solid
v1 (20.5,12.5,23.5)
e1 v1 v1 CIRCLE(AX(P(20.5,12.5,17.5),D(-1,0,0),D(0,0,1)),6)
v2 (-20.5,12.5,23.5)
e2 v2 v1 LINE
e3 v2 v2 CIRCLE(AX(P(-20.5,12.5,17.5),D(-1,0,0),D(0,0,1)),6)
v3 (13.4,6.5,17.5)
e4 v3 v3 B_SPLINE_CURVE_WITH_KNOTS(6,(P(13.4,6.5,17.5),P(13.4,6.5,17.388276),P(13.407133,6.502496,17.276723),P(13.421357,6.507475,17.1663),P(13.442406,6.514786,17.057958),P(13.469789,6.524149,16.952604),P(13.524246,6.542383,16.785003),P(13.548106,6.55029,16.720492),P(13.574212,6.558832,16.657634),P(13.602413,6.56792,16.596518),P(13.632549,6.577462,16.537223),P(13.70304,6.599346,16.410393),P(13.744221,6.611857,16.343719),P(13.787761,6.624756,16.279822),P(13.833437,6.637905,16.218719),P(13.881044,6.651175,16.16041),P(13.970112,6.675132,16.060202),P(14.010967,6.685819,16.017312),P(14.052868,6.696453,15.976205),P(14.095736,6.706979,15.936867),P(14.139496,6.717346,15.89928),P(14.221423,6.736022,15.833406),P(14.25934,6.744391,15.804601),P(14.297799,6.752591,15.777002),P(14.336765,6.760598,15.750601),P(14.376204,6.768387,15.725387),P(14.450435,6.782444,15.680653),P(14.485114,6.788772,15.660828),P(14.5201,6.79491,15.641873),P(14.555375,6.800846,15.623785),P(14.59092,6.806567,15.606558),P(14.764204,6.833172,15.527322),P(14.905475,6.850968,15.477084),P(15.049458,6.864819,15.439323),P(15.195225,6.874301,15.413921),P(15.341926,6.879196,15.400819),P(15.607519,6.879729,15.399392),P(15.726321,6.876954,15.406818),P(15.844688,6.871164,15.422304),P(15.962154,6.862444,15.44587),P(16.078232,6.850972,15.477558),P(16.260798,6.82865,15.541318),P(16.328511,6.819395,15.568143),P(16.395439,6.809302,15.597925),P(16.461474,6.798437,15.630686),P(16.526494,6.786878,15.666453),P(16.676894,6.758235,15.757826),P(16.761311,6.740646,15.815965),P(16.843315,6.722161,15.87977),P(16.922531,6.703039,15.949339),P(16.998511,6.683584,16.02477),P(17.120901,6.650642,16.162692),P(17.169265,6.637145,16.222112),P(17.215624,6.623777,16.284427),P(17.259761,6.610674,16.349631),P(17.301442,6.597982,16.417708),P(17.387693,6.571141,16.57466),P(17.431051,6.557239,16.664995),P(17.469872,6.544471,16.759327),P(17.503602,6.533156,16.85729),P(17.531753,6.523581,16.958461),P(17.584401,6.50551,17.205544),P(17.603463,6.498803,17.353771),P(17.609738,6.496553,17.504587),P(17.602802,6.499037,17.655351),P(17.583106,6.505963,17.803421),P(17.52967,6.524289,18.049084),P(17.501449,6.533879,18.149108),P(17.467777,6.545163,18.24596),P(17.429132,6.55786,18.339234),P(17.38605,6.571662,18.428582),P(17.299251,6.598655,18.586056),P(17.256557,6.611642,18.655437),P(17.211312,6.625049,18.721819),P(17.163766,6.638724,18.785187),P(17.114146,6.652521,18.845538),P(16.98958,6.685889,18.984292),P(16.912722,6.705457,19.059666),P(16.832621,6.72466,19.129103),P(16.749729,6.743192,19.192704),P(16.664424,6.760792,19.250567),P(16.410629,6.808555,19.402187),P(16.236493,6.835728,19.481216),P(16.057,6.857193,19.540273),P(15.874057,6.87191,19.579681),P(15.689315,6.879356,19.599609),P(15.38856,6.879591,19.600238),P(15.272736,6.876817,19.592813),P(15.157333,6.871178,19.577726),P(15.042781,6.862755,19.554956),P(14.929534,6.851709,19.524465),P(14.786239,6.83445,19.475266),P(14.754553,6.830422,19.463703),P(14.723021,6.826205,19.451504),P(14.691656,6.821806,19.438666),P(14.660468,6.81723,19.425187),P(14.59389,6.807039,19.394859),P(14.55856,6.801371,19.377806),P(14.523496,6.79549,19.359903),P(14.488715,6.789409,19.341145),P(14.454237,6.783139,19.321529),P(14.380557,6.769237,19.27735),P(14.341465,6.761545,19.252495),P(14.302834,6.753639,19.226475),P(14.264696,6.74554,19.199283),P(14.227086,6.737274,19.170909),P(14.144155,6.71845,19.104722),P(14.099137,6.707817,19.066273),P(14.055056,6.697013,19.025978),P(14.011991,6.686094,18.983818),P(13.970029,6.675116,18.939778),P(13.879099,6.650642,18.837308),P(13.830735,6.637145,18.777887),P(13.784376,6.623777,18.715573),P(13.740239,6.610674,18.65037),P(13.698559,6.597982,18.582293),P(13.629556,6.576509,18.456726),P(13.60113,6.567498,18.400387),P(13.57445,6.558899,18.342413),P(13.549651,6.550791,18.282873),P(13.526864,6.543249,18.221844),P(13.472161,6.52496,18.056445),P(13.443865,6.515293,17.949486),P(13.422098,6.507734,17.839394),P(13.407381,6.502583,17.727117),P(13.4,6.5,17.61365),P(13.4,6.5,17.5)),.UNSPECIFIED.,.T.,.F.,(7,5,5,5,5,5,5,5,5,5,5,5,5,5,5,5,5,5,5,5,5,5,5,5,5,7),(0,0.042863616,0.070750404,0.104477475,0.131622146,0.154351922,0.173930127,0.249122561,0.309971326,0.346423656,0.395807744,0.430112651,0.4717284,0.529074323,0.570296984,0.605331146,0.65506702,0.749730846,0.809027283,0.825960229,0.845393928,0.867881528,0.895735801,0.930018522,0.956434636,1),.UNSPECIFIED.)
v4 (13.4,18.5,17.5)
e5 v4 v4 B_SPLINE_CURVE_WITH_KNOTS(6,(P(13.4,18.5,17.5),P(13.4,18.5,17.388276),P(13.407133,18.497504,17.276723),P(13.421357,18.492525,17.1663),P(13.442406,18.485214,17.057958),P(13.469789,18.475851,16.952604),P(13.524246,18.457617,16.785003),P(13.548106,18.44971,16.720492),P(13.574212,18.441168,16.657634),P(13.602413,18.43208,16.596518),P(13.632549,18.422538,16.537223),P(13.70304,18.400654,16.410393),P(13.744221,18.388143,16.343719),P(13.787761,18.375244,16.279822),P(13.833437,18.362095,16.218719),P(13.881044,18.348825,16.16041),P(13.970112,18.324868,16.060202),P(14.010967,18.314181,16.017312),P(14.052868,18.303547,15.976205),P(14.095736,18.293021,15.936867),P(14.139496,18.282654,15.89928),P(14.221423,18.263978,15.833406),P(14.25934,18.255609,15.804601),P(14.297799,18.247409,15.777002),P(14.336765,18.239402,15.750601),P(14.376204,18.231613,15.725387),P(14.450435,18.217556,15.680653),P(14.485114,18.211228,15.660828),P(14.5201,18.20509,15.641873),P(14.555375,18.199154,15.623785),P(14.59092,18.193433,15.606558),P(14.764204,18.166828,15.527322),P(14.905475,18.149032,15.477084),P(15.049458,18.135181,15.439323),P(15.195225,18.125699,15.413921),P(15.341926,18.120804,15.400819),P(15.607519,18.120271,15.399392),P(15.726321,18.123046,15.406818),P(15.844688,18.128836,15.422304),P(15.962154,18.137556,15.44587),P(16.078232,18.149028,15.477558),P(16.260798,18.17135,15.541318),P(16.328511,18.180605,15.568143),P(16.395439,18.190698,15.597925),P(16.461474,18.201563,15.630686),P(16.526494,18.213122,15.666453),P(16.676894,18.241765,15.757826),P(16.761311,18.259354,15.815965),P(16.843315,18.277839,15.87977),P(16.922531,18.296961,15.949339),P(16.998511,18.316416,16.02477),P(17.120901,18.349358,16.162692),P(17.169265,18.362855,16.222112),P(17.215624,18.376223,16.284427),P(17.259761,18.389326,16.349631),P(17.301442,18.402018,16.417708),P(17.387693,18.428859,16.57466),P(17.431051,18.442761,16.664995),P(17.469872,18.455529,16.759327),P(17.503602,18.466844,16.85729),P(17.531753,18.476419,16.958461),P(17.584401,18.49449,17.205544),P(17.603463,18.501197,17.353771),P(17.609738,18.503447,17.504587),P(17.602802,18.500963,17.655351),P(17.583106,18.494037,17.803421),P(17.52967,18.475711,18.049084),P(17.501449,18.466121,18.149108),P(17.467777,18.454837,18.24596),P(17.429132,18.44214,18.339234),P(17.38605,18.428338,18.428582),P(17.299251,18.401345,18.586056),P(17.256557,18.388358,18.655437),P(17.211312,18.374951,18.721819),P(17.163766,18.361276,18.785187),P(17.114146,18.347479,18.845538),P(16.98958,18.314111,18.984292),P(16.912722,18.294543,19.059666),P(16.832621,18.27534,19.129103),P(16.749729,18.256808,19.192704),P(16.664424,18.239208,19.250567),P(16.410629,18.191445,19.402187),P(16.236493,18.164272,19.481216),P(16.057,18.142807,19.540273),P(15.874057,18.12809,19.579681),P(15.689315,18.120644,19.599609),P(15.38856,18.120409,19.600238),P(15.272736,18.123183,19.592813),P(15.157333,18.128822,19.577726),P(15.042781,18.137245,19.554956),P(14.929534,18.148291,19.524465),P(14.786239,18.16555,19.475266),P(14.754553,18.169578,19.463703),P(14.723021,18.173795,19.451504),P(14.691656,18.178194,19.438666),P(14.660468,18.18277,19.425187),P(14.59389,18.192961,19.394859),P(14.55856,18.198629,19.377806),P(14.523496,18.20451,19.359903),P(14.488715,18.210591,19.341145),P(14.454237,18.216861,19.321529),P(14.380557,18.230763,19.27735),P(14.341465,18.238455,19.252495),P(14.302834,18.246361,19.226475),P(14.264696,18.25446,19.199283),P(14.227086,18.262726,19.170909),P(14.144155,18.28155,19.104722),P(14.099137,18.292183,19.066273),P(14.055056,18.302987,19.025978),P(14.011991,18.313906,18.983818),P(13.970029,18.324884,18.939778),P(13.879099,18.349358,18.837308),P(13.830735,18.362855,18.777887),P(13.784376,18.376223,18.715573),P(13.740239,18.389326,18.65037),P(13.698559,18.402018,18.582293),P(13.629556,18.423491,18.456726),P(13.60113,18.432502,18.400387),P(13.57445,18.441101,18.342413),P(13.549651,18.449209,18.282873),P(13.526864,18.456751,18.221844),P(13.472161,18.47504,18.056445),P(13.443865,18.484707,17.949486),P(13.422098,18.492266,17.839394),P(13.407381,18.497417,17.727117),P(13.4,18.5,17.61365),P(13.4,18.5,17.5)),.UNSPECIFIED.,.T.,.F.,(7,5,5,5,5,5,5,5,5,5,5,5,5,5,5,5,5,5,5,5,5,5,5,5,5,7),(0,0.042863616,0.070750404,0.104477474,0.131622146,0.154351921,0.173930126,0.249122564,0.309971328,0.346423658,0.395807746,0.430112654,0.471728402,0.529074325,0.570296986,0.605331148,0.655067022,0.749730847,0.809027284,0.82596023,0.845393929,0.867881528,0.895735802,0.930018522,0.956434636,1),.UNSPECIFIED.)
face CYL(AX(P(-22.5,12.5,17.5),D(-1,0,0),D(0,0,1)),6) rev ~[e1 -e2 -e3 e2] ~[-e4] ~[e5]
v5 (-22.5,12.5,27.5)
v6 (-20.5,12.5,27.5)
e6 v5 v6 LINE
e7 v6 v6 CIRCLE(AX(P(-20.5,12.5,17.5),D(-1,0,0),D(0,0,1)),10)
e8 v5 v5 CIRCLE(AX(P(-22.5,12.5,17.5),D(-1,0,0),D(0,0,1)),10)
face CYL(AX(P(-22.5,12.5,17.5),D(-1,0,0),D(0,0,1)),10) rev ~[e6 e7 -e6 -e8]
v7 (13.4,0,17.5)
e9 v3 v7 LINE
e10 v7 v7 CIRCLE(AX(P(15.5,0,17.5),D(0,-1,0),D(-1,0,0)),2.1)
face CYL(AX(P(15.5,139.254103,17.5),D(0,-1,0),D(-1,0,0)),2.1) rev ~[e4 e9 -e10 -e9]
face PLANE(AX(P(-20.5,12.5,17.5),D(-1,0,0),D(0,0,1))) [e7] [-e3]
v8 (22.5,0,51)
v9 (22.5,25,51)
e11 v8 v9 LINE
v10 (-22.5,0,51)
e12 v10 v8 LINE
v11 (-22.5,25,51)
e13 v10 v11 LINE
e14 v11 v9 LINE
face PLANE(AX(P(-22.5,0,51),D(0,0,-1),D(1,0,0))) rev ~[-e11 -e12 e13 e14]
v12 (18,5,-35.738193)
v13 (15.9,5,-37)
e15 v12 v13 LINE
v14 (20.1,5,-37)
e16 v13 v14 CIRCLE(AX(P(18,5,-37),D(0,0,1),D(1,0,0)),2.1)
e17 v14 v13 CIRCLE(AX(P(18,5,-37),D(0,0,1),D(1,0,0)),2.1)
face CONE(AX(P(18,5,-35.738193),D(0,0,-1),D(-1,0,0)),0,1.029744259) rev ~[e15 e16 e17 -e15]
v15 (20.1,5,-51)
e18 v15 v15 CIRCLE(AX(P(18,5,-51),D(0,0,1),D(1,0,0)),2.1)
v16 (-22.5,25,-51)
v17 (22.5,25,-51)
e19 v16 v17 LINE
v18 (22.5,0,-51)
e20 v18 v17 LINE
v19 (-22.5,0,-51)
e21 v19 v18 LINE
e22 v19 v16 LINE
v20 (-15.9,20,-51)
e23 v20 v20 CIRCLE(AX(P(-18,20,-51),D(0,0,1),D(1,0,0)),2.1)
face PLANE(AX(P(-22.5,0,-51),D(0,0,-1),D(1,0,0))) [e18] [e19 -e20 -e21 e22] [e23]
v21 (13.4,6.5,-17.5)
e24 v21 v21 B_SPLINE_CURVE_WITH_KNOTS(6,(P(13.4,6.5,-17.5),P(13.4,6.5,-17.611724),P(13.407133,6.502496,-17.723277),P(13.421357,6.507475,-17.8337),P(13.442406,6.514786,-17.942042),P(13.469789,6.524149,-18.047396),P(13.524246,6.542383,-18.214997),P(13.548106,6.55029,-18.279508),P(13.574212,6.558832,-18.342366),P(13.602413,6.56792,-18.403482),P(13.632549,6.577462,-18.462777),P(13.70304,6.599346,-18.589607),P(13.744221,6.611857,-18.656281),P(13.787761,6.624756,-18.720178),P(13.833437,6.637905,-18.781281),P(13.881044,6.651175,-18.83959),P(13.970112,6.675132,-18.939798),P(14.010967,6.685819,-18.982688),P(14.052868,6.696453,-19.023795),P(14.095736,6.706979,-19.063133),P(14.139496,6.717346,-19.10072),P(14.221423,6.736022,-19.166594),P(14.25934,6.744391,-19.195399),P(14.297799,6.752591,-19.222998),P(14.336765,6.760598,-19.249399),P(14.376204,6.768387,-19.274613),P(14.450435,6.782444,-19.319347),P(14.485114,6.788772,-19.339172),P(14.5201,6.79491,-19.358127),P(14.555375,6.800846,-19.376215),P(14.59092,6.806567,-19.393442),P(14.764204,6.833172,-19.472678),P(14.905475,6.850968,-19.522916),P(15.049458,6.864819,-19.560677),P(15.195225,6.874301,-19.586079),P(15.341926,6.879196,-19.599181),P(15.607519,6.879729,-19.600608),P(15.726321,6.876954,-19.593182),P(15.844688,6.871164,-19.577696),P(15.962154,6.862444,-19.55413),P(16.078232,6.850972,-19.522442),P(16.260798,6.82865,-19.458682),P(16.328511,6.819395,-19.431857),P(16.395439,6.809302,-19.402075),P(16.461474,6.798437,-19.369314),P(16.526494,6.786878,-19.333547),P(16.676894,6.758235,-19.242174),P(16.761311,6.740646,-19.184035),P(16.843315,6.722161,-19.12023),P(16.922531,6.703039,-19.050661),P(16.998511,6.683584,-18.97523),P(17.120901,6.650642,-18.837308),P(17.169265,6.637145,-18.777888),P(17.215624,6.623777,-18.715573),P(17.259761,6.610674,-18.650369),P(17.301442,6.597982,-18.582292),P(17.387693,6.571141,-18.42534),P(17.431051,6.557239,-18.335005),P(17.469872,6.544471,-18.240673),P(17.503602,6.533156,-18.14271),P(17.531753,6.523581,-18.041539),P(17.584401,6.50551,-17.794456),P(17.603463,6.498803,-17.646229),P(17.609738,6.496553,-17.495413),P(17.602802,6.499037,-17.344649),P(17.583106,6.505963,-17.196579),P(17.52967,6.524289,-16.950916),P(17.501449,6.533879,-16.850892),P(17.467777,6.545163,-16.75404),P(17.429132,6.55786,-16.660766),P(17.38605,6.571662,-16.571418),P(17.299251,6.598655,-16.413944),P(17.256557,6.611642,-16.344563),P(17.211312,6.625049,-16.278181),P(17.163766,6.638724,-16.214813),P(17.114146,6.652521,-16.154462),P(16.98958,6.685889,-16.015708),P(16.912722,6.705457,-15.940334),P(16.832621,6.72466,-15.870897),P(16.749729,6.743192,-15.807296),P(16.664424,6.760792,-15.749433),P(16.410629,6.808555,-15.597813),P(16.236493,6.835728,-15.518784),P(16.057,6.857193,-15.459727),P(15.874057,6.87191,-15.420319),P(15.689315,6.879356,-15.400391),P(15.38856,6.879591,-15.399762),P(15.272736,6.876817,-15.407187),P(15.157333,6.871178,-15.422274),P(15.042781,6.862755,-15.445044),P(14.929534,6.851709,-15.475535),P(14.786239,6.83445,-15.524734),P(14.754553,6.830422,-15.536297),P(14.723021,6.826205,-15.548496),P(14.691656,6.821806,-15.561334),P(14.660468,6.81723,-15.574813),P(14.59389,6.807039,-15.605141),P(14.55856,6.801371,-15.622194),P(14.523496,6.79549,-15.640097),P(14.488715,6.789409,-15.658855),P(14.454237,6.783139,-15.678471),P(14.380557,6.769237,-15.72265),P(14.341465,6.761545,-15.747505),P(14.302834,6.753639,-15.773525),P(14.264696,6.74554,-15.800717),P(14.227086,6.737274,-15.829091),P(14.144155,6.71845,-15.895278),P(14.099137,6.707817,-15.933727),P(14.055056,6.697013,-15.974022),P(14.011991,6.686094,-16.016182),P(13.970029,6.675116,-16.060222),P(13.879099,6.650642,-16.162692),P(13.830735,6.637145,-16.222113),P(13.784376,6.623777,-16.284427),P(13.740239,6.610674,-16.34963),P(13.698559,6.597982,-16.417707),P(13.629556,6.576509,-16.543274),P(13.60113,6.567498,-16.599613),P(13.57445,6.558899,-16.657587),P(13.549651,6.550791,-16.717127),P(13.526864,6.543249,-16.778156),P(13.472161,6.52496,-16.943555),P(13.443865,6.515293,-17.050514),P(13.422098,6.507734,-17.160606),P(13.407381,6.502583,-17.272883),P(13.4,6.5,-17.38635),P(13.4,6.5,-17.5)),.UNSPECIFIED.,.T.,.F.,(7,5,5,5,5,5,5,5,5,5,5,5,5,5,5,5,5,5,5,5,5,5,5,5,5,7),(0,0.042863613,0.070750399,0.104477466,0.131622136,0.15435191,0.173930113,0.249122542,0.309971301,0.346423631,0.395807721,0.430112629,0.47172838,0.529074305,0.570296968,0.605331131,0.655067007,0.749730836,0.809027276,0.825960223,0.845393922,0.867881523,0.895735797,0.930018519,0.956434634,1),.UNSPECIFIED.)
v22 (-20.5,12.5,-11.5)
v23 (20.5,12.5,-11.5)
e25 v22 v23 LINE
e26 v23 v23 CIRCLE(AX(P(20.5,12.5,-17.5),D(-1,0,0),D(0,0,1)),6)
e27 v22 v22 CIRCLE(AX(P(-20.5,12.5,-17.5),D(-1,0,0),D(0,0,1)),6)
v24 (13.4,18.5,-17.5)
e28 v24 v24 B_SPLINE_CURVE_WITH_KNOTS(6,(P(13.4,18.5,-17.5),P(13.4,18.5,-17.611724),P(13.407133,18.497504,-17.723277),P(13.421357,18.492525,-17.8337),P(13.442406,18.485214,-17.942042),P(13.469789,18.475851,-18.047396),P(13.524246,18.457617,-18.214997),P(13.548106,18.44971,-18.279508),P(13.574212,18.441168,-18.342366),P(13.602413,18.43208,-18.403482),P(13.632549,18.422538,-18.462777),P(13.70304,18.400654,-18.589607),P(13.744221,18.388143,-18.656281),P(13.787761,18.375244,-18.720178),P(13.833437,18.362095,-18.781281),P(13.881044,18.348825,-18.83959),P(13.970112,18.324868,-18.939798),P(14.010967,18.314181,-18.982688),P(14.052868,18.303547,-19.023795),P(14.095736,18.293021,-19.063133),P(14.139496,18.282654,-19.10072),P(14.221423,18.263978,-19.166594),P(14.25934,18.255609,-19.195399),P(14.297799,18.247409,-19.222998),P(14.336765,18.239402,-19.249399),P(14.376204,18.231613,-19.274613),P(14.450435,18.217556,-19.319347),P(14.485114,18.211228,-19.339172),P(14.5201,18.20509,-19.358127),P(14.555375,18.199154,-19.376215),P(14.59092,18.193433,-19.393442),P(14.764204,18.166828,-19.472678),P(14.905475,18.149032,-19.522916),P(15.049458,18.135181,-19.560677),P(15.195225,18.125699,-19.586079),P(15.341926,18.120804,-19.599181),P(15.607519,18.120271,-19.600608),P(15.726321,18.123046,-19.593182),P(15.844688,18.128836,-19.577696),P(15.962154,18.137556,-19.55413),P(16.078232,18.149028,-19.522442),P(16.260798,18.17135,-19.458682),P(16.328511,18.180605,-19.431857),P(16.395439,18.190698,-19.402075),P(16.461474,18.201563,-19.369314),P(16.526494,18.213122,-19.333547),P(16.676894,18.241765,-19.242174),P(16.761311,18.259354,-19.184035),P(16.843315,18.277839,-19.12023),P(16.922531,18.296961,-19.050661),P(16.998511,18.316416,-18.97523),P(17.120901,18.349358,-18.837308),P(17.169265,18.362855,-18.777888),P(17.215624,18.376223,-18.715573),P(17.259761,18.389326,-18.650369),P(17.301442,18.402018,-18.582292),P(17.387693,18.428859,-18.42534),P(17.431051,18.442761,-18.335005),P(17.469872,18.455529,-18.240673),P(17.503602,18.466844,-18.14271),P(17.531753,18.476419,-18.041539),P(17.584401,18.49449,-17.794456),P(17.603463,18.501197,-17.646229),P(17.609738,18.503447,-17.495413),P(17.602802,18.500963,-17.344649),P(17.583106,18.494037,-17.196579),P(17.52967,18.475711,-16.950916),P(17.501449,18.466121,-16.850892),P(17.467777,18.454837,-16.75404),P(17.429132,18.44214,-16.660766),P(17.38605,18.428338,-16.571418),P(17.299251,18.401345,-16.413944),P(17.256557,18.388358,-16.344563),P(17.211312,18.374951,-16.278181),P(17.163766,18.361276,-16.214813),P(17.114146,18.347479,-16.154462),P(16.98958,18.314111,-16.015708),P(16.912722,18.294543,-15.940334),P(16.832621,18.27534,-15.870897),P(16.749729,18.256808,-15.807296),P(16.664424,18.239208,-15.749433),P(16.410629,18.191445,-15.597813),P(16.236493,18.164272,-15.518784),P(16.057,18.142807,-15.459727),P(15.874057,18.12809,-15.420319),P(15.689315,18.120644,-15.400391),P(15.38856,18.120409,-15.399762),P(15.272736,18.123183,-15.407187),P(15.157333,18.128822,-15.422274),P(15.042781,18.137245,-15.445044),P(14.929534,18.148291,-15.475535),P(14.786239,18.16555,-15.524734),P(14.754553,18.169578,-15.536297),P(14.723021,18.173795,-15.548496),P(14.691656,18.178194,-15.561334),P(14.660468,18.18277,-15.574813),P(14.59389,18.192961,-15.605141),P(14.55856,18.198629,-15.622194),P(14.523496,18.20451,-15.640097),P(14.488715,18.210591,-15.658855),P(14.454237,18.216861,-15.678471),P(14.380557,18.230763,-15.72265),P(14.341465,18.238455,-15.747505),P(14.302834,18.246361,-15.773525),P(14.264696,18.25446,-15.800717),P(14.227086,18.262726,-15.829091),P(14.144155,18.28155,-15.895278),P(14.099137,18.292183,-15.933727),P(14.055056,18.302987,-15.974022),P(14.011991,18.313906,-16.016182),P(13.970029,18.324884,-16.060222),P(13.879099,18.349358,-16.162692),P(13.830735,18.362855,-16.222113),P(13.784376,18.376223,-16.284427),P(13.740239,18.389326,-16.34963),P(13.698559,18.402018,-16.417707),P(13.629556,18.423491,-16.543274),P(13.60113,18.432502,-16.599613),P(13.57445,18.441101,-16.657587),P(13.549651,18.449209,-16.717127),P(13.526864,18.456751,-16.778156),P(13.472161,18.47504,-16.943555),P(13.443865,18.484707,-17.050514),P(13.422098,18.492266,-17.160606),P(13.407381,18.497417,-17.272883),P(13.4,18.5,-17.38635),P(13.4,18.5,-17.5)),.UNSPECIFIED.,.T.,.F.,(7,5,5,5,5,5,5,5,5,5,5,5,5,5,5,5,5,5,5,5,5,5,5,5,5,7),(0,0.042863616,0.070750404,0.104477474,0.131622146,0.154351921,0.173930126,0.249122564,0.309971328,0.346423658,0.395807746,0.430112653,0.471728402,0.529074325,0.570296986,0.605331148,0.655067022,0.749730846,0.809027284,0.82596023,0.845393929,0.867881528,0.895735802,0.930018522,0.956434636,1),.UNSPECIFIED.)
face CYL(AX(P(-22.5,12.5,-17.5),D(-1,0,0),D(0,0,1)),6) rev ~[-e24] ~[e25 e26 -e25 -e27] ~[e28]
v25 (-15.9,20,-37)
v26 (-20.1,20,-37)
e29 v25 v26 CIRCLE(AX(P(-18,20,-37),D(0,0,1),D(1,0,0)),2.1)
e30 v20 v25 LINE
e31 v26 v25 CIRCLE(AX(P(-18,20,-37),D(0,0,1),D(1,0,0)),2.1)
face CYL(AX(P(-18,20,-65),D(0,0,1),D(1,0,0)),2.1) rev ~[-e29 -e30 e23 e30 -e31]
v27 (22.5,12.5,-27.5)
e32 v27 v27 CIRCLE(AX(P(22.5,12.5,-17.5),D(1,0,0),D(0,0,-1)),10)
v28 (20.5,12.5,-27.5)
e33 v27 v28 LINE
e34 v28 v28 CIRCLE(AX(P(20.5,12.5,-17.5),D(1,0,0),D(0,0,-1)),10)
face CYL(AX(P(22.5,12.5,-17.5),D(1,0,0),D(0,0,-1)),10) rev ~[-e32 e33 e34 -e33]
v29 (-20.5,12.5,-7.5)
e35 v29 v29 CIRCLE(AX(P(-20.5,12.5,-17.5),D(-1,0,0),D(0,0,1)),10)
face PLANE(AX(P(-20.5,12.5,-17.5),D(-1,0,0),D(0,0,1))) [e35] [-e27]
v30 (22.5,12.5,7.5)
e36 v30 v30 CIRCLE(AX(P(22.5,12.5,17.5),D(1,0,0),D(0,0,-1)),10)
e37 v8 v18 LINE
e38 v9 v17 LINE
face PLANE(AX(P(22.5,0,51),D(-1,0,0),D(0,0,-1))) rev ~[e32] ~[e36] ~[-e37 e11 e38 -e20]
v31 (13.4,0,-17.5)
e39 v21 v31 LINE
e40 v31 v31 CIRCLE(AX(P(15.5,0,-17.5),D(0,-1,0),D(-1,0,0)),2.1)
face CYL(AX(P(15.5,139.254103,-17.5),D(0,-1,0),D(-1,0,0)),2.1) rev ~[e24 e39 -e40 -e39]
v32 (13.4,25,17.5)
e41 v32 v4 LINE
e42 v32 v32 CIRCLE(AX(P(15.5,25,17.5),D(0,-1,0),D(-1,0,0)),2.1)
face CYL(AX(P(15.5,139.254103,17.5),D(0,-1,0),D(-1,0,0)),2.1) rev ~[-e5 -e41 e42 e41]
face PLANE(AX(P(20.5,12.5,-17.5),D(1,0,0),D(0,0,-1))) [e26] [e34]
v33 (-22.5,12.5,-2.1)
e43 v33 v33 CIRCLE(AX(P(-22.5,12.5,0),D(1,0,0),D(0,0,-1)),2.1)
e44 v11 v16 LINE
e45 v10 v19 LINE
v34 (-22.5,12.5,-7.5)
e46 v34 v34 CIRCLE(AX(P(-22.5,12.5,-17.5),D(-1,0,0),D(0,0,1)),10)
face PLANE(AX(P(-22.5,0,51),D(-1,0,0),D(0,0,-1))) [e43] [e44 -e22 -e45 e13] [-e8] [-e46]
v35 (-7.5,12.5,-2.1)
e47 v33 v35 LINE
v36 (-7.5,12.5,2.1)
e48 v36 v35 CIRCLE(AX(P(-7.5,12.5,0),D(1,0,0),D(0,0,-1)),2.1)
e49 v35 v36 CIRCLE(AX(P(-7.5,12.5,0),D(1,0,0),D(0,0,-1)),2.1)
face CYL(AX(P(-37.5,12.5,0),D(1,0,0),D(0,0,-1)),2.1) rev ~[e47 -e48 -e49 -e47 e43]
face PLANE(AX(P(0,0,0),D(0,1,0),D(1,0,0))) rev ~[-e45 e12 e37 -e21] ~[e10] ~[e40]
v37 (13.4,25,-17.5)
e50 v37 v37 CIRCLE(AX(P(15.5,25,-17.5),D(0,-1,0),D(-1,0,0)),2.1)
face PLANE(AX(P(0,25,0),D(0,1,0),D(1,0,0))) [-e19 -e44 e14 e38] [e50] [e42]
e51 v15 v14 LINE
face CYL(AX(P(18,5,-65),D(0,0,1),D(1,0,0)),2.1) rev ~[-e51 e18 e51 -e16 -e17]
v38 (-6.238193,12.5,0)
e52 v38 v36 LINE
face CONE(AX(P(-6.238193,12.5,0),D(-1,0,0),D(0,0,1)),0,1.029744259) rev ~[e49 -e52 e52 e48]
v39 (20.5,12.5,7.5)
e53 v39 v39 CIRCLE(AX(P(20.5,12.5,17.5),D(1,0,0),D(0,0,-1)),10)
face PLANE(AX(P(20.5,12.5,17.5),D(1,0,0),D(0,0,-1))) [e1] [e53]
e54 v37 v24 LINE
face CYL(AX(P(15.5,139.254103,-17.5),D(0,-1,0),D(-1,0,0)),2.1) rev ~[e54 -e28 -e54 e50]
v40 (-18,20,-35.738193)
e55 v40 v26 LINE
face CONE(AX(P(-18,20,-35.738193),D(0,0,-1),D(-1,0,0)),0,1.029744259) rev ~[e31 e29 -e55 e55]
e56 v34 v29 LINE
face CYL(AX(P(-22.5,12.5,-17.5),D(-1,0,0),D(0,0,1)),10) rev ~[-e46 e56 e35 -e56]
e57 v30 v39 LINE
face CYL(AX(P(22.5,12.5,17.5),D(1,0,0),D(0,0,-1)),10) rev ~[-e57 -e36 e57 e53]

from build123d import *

# Parameters (mm, degrees)
SKETCH1_W             = 45
SKETCH1_H             = 102
BOSS_EXTRUDE1_DEPTH   = 25
M5_TAPPED_HOLE3_D     = 4.2
SKETCH27_R            = 6
CUT_EXTRUDE1_DEPTH    = 74
SKETCH28_R            = 10
CUT_EXTRUDE3_DEPTH    = 2
SKETCH30_R            = 10
CUT_EXTRUDE4_DEPTH    = 2
M5_TAPPED_HOLE4_D     = 4.2
M5_TAPPED_HOLE4_DEPTH = 14
M5_TAPPED_HOLE4_TIP   = 1.2618073
M5_TAPPED_HOLE5_D     = 4.2
M5_TAPPED_HOLE5_DEPTH = 15
M5_TAPPED_HOLE5_TIP   = 1.2618073


with BuildPart() as part:
    # Sketch1 → Boss-Extrude1 (new body)
    with BuildSketch(Plane(origin=(0, 0, 0), x_dir=(1, 0, 0), z_dir=(0, 1, 0))):
        Rectangle(SKETCH1_W, SKETCH1_H)
    extrude(amount=BOSS_EXTRUDE1_DEPTH)

    # M5 Tapped Hole3 (through all)
    with Locations(Plane(origin=(0, 25, 0), x_dir=(1, 0, 0), z_dir=(0, 1, 0))):
        with Locations((15.5, 17.5), (15.5, -17.5)):
            Hole(M5_TAPPED_HOLE3_D / 2)

    # Sketch27 → Cut-Extrude1 (cut)
    with BuildSketch(Plane.ZY.offset(22.5)):
        with Locations((-17.5, 12.5)):
            Circle(SKETCH27_R)
        with Locations((17.5, 12.5)):
            Circle(SKETCH27_R)
    extrude(amount=-CUT_EXTRUDE1_DEPTH, mode=Mode.SUBTRACT)

    # Sketch28 → Cut-Extrude3 (cut)
    with BuildSketch(Plane.ZY.offset(22.5)):
        with Locations((-17.5, 12.5)):
            Circle(SKETCH28_R)
        with Locations((17.5, 12.5)):
            Circle(SKETCH28_R)
    extrude(amount=-CUT_EXTRUDE3_DEPTH, mode=Mode.SUBTRACT)

    # Sketch30 → Cut-Extrude4 (cut)
    with BuildSketch(Plane(origin=(22.5, 0, 0), x_dir=(0, 0, -1), z_dir=(1, 0, 0))):
        with Locations((-17.5, 12.5)):
            Circle(SKETCH30_R)
        with Locations((17.5, 12.5)):
            Circle(SKETCH30_R)
    extrude(amount=-CUT_EXTRUDE4_DEPTH, mode=Mode.SUBTRACT)

    # M5 Tapped Hole4
    with Locations(Plane(origin=(0, 0, -51), x_dir=(-1, 0, 0), z_dir=(0, 0, -1))):
        with Locations((-18, 5), (18, 20)):
            Hole(M5_TAPPED_HOLE4_D / 2, depth=M5_TAPPED_HOLE4_DEPTH)
            with Locations((0, 0, -(M5_TAPPED_HOLE4_DEPTH + M5_TAPPED_HOLE4_TIP / 2))):  # 118° drill point
                Cone(0, M5_TAPPED_HOLE4_D / 2, M5_TAPPED_HOLE4_TIP, mode=Mode.SUBTRACT)

    # M5 Tapped Hole5
    with Locations(Plane.ZY.offset(22.5)):
        with Locations((0, 12.5)):
            Hole(M5_TAPPED_HOLE5_D / 2, depth=M5_TAPPED_HOLE5_DEPTH)
            with Locations((0, 0, -(M5_TAPPED_HOLE5_DEPTH + M5_TAPPED_HOLE5_TIP / 2))):  # 118° drill point
                Cone(0, M5_TAPPED_HOLE5_D / 2, M5_TAPPED_HOLE5_TIP, mode=Mode.SUBTRACT)


solid = part.part
